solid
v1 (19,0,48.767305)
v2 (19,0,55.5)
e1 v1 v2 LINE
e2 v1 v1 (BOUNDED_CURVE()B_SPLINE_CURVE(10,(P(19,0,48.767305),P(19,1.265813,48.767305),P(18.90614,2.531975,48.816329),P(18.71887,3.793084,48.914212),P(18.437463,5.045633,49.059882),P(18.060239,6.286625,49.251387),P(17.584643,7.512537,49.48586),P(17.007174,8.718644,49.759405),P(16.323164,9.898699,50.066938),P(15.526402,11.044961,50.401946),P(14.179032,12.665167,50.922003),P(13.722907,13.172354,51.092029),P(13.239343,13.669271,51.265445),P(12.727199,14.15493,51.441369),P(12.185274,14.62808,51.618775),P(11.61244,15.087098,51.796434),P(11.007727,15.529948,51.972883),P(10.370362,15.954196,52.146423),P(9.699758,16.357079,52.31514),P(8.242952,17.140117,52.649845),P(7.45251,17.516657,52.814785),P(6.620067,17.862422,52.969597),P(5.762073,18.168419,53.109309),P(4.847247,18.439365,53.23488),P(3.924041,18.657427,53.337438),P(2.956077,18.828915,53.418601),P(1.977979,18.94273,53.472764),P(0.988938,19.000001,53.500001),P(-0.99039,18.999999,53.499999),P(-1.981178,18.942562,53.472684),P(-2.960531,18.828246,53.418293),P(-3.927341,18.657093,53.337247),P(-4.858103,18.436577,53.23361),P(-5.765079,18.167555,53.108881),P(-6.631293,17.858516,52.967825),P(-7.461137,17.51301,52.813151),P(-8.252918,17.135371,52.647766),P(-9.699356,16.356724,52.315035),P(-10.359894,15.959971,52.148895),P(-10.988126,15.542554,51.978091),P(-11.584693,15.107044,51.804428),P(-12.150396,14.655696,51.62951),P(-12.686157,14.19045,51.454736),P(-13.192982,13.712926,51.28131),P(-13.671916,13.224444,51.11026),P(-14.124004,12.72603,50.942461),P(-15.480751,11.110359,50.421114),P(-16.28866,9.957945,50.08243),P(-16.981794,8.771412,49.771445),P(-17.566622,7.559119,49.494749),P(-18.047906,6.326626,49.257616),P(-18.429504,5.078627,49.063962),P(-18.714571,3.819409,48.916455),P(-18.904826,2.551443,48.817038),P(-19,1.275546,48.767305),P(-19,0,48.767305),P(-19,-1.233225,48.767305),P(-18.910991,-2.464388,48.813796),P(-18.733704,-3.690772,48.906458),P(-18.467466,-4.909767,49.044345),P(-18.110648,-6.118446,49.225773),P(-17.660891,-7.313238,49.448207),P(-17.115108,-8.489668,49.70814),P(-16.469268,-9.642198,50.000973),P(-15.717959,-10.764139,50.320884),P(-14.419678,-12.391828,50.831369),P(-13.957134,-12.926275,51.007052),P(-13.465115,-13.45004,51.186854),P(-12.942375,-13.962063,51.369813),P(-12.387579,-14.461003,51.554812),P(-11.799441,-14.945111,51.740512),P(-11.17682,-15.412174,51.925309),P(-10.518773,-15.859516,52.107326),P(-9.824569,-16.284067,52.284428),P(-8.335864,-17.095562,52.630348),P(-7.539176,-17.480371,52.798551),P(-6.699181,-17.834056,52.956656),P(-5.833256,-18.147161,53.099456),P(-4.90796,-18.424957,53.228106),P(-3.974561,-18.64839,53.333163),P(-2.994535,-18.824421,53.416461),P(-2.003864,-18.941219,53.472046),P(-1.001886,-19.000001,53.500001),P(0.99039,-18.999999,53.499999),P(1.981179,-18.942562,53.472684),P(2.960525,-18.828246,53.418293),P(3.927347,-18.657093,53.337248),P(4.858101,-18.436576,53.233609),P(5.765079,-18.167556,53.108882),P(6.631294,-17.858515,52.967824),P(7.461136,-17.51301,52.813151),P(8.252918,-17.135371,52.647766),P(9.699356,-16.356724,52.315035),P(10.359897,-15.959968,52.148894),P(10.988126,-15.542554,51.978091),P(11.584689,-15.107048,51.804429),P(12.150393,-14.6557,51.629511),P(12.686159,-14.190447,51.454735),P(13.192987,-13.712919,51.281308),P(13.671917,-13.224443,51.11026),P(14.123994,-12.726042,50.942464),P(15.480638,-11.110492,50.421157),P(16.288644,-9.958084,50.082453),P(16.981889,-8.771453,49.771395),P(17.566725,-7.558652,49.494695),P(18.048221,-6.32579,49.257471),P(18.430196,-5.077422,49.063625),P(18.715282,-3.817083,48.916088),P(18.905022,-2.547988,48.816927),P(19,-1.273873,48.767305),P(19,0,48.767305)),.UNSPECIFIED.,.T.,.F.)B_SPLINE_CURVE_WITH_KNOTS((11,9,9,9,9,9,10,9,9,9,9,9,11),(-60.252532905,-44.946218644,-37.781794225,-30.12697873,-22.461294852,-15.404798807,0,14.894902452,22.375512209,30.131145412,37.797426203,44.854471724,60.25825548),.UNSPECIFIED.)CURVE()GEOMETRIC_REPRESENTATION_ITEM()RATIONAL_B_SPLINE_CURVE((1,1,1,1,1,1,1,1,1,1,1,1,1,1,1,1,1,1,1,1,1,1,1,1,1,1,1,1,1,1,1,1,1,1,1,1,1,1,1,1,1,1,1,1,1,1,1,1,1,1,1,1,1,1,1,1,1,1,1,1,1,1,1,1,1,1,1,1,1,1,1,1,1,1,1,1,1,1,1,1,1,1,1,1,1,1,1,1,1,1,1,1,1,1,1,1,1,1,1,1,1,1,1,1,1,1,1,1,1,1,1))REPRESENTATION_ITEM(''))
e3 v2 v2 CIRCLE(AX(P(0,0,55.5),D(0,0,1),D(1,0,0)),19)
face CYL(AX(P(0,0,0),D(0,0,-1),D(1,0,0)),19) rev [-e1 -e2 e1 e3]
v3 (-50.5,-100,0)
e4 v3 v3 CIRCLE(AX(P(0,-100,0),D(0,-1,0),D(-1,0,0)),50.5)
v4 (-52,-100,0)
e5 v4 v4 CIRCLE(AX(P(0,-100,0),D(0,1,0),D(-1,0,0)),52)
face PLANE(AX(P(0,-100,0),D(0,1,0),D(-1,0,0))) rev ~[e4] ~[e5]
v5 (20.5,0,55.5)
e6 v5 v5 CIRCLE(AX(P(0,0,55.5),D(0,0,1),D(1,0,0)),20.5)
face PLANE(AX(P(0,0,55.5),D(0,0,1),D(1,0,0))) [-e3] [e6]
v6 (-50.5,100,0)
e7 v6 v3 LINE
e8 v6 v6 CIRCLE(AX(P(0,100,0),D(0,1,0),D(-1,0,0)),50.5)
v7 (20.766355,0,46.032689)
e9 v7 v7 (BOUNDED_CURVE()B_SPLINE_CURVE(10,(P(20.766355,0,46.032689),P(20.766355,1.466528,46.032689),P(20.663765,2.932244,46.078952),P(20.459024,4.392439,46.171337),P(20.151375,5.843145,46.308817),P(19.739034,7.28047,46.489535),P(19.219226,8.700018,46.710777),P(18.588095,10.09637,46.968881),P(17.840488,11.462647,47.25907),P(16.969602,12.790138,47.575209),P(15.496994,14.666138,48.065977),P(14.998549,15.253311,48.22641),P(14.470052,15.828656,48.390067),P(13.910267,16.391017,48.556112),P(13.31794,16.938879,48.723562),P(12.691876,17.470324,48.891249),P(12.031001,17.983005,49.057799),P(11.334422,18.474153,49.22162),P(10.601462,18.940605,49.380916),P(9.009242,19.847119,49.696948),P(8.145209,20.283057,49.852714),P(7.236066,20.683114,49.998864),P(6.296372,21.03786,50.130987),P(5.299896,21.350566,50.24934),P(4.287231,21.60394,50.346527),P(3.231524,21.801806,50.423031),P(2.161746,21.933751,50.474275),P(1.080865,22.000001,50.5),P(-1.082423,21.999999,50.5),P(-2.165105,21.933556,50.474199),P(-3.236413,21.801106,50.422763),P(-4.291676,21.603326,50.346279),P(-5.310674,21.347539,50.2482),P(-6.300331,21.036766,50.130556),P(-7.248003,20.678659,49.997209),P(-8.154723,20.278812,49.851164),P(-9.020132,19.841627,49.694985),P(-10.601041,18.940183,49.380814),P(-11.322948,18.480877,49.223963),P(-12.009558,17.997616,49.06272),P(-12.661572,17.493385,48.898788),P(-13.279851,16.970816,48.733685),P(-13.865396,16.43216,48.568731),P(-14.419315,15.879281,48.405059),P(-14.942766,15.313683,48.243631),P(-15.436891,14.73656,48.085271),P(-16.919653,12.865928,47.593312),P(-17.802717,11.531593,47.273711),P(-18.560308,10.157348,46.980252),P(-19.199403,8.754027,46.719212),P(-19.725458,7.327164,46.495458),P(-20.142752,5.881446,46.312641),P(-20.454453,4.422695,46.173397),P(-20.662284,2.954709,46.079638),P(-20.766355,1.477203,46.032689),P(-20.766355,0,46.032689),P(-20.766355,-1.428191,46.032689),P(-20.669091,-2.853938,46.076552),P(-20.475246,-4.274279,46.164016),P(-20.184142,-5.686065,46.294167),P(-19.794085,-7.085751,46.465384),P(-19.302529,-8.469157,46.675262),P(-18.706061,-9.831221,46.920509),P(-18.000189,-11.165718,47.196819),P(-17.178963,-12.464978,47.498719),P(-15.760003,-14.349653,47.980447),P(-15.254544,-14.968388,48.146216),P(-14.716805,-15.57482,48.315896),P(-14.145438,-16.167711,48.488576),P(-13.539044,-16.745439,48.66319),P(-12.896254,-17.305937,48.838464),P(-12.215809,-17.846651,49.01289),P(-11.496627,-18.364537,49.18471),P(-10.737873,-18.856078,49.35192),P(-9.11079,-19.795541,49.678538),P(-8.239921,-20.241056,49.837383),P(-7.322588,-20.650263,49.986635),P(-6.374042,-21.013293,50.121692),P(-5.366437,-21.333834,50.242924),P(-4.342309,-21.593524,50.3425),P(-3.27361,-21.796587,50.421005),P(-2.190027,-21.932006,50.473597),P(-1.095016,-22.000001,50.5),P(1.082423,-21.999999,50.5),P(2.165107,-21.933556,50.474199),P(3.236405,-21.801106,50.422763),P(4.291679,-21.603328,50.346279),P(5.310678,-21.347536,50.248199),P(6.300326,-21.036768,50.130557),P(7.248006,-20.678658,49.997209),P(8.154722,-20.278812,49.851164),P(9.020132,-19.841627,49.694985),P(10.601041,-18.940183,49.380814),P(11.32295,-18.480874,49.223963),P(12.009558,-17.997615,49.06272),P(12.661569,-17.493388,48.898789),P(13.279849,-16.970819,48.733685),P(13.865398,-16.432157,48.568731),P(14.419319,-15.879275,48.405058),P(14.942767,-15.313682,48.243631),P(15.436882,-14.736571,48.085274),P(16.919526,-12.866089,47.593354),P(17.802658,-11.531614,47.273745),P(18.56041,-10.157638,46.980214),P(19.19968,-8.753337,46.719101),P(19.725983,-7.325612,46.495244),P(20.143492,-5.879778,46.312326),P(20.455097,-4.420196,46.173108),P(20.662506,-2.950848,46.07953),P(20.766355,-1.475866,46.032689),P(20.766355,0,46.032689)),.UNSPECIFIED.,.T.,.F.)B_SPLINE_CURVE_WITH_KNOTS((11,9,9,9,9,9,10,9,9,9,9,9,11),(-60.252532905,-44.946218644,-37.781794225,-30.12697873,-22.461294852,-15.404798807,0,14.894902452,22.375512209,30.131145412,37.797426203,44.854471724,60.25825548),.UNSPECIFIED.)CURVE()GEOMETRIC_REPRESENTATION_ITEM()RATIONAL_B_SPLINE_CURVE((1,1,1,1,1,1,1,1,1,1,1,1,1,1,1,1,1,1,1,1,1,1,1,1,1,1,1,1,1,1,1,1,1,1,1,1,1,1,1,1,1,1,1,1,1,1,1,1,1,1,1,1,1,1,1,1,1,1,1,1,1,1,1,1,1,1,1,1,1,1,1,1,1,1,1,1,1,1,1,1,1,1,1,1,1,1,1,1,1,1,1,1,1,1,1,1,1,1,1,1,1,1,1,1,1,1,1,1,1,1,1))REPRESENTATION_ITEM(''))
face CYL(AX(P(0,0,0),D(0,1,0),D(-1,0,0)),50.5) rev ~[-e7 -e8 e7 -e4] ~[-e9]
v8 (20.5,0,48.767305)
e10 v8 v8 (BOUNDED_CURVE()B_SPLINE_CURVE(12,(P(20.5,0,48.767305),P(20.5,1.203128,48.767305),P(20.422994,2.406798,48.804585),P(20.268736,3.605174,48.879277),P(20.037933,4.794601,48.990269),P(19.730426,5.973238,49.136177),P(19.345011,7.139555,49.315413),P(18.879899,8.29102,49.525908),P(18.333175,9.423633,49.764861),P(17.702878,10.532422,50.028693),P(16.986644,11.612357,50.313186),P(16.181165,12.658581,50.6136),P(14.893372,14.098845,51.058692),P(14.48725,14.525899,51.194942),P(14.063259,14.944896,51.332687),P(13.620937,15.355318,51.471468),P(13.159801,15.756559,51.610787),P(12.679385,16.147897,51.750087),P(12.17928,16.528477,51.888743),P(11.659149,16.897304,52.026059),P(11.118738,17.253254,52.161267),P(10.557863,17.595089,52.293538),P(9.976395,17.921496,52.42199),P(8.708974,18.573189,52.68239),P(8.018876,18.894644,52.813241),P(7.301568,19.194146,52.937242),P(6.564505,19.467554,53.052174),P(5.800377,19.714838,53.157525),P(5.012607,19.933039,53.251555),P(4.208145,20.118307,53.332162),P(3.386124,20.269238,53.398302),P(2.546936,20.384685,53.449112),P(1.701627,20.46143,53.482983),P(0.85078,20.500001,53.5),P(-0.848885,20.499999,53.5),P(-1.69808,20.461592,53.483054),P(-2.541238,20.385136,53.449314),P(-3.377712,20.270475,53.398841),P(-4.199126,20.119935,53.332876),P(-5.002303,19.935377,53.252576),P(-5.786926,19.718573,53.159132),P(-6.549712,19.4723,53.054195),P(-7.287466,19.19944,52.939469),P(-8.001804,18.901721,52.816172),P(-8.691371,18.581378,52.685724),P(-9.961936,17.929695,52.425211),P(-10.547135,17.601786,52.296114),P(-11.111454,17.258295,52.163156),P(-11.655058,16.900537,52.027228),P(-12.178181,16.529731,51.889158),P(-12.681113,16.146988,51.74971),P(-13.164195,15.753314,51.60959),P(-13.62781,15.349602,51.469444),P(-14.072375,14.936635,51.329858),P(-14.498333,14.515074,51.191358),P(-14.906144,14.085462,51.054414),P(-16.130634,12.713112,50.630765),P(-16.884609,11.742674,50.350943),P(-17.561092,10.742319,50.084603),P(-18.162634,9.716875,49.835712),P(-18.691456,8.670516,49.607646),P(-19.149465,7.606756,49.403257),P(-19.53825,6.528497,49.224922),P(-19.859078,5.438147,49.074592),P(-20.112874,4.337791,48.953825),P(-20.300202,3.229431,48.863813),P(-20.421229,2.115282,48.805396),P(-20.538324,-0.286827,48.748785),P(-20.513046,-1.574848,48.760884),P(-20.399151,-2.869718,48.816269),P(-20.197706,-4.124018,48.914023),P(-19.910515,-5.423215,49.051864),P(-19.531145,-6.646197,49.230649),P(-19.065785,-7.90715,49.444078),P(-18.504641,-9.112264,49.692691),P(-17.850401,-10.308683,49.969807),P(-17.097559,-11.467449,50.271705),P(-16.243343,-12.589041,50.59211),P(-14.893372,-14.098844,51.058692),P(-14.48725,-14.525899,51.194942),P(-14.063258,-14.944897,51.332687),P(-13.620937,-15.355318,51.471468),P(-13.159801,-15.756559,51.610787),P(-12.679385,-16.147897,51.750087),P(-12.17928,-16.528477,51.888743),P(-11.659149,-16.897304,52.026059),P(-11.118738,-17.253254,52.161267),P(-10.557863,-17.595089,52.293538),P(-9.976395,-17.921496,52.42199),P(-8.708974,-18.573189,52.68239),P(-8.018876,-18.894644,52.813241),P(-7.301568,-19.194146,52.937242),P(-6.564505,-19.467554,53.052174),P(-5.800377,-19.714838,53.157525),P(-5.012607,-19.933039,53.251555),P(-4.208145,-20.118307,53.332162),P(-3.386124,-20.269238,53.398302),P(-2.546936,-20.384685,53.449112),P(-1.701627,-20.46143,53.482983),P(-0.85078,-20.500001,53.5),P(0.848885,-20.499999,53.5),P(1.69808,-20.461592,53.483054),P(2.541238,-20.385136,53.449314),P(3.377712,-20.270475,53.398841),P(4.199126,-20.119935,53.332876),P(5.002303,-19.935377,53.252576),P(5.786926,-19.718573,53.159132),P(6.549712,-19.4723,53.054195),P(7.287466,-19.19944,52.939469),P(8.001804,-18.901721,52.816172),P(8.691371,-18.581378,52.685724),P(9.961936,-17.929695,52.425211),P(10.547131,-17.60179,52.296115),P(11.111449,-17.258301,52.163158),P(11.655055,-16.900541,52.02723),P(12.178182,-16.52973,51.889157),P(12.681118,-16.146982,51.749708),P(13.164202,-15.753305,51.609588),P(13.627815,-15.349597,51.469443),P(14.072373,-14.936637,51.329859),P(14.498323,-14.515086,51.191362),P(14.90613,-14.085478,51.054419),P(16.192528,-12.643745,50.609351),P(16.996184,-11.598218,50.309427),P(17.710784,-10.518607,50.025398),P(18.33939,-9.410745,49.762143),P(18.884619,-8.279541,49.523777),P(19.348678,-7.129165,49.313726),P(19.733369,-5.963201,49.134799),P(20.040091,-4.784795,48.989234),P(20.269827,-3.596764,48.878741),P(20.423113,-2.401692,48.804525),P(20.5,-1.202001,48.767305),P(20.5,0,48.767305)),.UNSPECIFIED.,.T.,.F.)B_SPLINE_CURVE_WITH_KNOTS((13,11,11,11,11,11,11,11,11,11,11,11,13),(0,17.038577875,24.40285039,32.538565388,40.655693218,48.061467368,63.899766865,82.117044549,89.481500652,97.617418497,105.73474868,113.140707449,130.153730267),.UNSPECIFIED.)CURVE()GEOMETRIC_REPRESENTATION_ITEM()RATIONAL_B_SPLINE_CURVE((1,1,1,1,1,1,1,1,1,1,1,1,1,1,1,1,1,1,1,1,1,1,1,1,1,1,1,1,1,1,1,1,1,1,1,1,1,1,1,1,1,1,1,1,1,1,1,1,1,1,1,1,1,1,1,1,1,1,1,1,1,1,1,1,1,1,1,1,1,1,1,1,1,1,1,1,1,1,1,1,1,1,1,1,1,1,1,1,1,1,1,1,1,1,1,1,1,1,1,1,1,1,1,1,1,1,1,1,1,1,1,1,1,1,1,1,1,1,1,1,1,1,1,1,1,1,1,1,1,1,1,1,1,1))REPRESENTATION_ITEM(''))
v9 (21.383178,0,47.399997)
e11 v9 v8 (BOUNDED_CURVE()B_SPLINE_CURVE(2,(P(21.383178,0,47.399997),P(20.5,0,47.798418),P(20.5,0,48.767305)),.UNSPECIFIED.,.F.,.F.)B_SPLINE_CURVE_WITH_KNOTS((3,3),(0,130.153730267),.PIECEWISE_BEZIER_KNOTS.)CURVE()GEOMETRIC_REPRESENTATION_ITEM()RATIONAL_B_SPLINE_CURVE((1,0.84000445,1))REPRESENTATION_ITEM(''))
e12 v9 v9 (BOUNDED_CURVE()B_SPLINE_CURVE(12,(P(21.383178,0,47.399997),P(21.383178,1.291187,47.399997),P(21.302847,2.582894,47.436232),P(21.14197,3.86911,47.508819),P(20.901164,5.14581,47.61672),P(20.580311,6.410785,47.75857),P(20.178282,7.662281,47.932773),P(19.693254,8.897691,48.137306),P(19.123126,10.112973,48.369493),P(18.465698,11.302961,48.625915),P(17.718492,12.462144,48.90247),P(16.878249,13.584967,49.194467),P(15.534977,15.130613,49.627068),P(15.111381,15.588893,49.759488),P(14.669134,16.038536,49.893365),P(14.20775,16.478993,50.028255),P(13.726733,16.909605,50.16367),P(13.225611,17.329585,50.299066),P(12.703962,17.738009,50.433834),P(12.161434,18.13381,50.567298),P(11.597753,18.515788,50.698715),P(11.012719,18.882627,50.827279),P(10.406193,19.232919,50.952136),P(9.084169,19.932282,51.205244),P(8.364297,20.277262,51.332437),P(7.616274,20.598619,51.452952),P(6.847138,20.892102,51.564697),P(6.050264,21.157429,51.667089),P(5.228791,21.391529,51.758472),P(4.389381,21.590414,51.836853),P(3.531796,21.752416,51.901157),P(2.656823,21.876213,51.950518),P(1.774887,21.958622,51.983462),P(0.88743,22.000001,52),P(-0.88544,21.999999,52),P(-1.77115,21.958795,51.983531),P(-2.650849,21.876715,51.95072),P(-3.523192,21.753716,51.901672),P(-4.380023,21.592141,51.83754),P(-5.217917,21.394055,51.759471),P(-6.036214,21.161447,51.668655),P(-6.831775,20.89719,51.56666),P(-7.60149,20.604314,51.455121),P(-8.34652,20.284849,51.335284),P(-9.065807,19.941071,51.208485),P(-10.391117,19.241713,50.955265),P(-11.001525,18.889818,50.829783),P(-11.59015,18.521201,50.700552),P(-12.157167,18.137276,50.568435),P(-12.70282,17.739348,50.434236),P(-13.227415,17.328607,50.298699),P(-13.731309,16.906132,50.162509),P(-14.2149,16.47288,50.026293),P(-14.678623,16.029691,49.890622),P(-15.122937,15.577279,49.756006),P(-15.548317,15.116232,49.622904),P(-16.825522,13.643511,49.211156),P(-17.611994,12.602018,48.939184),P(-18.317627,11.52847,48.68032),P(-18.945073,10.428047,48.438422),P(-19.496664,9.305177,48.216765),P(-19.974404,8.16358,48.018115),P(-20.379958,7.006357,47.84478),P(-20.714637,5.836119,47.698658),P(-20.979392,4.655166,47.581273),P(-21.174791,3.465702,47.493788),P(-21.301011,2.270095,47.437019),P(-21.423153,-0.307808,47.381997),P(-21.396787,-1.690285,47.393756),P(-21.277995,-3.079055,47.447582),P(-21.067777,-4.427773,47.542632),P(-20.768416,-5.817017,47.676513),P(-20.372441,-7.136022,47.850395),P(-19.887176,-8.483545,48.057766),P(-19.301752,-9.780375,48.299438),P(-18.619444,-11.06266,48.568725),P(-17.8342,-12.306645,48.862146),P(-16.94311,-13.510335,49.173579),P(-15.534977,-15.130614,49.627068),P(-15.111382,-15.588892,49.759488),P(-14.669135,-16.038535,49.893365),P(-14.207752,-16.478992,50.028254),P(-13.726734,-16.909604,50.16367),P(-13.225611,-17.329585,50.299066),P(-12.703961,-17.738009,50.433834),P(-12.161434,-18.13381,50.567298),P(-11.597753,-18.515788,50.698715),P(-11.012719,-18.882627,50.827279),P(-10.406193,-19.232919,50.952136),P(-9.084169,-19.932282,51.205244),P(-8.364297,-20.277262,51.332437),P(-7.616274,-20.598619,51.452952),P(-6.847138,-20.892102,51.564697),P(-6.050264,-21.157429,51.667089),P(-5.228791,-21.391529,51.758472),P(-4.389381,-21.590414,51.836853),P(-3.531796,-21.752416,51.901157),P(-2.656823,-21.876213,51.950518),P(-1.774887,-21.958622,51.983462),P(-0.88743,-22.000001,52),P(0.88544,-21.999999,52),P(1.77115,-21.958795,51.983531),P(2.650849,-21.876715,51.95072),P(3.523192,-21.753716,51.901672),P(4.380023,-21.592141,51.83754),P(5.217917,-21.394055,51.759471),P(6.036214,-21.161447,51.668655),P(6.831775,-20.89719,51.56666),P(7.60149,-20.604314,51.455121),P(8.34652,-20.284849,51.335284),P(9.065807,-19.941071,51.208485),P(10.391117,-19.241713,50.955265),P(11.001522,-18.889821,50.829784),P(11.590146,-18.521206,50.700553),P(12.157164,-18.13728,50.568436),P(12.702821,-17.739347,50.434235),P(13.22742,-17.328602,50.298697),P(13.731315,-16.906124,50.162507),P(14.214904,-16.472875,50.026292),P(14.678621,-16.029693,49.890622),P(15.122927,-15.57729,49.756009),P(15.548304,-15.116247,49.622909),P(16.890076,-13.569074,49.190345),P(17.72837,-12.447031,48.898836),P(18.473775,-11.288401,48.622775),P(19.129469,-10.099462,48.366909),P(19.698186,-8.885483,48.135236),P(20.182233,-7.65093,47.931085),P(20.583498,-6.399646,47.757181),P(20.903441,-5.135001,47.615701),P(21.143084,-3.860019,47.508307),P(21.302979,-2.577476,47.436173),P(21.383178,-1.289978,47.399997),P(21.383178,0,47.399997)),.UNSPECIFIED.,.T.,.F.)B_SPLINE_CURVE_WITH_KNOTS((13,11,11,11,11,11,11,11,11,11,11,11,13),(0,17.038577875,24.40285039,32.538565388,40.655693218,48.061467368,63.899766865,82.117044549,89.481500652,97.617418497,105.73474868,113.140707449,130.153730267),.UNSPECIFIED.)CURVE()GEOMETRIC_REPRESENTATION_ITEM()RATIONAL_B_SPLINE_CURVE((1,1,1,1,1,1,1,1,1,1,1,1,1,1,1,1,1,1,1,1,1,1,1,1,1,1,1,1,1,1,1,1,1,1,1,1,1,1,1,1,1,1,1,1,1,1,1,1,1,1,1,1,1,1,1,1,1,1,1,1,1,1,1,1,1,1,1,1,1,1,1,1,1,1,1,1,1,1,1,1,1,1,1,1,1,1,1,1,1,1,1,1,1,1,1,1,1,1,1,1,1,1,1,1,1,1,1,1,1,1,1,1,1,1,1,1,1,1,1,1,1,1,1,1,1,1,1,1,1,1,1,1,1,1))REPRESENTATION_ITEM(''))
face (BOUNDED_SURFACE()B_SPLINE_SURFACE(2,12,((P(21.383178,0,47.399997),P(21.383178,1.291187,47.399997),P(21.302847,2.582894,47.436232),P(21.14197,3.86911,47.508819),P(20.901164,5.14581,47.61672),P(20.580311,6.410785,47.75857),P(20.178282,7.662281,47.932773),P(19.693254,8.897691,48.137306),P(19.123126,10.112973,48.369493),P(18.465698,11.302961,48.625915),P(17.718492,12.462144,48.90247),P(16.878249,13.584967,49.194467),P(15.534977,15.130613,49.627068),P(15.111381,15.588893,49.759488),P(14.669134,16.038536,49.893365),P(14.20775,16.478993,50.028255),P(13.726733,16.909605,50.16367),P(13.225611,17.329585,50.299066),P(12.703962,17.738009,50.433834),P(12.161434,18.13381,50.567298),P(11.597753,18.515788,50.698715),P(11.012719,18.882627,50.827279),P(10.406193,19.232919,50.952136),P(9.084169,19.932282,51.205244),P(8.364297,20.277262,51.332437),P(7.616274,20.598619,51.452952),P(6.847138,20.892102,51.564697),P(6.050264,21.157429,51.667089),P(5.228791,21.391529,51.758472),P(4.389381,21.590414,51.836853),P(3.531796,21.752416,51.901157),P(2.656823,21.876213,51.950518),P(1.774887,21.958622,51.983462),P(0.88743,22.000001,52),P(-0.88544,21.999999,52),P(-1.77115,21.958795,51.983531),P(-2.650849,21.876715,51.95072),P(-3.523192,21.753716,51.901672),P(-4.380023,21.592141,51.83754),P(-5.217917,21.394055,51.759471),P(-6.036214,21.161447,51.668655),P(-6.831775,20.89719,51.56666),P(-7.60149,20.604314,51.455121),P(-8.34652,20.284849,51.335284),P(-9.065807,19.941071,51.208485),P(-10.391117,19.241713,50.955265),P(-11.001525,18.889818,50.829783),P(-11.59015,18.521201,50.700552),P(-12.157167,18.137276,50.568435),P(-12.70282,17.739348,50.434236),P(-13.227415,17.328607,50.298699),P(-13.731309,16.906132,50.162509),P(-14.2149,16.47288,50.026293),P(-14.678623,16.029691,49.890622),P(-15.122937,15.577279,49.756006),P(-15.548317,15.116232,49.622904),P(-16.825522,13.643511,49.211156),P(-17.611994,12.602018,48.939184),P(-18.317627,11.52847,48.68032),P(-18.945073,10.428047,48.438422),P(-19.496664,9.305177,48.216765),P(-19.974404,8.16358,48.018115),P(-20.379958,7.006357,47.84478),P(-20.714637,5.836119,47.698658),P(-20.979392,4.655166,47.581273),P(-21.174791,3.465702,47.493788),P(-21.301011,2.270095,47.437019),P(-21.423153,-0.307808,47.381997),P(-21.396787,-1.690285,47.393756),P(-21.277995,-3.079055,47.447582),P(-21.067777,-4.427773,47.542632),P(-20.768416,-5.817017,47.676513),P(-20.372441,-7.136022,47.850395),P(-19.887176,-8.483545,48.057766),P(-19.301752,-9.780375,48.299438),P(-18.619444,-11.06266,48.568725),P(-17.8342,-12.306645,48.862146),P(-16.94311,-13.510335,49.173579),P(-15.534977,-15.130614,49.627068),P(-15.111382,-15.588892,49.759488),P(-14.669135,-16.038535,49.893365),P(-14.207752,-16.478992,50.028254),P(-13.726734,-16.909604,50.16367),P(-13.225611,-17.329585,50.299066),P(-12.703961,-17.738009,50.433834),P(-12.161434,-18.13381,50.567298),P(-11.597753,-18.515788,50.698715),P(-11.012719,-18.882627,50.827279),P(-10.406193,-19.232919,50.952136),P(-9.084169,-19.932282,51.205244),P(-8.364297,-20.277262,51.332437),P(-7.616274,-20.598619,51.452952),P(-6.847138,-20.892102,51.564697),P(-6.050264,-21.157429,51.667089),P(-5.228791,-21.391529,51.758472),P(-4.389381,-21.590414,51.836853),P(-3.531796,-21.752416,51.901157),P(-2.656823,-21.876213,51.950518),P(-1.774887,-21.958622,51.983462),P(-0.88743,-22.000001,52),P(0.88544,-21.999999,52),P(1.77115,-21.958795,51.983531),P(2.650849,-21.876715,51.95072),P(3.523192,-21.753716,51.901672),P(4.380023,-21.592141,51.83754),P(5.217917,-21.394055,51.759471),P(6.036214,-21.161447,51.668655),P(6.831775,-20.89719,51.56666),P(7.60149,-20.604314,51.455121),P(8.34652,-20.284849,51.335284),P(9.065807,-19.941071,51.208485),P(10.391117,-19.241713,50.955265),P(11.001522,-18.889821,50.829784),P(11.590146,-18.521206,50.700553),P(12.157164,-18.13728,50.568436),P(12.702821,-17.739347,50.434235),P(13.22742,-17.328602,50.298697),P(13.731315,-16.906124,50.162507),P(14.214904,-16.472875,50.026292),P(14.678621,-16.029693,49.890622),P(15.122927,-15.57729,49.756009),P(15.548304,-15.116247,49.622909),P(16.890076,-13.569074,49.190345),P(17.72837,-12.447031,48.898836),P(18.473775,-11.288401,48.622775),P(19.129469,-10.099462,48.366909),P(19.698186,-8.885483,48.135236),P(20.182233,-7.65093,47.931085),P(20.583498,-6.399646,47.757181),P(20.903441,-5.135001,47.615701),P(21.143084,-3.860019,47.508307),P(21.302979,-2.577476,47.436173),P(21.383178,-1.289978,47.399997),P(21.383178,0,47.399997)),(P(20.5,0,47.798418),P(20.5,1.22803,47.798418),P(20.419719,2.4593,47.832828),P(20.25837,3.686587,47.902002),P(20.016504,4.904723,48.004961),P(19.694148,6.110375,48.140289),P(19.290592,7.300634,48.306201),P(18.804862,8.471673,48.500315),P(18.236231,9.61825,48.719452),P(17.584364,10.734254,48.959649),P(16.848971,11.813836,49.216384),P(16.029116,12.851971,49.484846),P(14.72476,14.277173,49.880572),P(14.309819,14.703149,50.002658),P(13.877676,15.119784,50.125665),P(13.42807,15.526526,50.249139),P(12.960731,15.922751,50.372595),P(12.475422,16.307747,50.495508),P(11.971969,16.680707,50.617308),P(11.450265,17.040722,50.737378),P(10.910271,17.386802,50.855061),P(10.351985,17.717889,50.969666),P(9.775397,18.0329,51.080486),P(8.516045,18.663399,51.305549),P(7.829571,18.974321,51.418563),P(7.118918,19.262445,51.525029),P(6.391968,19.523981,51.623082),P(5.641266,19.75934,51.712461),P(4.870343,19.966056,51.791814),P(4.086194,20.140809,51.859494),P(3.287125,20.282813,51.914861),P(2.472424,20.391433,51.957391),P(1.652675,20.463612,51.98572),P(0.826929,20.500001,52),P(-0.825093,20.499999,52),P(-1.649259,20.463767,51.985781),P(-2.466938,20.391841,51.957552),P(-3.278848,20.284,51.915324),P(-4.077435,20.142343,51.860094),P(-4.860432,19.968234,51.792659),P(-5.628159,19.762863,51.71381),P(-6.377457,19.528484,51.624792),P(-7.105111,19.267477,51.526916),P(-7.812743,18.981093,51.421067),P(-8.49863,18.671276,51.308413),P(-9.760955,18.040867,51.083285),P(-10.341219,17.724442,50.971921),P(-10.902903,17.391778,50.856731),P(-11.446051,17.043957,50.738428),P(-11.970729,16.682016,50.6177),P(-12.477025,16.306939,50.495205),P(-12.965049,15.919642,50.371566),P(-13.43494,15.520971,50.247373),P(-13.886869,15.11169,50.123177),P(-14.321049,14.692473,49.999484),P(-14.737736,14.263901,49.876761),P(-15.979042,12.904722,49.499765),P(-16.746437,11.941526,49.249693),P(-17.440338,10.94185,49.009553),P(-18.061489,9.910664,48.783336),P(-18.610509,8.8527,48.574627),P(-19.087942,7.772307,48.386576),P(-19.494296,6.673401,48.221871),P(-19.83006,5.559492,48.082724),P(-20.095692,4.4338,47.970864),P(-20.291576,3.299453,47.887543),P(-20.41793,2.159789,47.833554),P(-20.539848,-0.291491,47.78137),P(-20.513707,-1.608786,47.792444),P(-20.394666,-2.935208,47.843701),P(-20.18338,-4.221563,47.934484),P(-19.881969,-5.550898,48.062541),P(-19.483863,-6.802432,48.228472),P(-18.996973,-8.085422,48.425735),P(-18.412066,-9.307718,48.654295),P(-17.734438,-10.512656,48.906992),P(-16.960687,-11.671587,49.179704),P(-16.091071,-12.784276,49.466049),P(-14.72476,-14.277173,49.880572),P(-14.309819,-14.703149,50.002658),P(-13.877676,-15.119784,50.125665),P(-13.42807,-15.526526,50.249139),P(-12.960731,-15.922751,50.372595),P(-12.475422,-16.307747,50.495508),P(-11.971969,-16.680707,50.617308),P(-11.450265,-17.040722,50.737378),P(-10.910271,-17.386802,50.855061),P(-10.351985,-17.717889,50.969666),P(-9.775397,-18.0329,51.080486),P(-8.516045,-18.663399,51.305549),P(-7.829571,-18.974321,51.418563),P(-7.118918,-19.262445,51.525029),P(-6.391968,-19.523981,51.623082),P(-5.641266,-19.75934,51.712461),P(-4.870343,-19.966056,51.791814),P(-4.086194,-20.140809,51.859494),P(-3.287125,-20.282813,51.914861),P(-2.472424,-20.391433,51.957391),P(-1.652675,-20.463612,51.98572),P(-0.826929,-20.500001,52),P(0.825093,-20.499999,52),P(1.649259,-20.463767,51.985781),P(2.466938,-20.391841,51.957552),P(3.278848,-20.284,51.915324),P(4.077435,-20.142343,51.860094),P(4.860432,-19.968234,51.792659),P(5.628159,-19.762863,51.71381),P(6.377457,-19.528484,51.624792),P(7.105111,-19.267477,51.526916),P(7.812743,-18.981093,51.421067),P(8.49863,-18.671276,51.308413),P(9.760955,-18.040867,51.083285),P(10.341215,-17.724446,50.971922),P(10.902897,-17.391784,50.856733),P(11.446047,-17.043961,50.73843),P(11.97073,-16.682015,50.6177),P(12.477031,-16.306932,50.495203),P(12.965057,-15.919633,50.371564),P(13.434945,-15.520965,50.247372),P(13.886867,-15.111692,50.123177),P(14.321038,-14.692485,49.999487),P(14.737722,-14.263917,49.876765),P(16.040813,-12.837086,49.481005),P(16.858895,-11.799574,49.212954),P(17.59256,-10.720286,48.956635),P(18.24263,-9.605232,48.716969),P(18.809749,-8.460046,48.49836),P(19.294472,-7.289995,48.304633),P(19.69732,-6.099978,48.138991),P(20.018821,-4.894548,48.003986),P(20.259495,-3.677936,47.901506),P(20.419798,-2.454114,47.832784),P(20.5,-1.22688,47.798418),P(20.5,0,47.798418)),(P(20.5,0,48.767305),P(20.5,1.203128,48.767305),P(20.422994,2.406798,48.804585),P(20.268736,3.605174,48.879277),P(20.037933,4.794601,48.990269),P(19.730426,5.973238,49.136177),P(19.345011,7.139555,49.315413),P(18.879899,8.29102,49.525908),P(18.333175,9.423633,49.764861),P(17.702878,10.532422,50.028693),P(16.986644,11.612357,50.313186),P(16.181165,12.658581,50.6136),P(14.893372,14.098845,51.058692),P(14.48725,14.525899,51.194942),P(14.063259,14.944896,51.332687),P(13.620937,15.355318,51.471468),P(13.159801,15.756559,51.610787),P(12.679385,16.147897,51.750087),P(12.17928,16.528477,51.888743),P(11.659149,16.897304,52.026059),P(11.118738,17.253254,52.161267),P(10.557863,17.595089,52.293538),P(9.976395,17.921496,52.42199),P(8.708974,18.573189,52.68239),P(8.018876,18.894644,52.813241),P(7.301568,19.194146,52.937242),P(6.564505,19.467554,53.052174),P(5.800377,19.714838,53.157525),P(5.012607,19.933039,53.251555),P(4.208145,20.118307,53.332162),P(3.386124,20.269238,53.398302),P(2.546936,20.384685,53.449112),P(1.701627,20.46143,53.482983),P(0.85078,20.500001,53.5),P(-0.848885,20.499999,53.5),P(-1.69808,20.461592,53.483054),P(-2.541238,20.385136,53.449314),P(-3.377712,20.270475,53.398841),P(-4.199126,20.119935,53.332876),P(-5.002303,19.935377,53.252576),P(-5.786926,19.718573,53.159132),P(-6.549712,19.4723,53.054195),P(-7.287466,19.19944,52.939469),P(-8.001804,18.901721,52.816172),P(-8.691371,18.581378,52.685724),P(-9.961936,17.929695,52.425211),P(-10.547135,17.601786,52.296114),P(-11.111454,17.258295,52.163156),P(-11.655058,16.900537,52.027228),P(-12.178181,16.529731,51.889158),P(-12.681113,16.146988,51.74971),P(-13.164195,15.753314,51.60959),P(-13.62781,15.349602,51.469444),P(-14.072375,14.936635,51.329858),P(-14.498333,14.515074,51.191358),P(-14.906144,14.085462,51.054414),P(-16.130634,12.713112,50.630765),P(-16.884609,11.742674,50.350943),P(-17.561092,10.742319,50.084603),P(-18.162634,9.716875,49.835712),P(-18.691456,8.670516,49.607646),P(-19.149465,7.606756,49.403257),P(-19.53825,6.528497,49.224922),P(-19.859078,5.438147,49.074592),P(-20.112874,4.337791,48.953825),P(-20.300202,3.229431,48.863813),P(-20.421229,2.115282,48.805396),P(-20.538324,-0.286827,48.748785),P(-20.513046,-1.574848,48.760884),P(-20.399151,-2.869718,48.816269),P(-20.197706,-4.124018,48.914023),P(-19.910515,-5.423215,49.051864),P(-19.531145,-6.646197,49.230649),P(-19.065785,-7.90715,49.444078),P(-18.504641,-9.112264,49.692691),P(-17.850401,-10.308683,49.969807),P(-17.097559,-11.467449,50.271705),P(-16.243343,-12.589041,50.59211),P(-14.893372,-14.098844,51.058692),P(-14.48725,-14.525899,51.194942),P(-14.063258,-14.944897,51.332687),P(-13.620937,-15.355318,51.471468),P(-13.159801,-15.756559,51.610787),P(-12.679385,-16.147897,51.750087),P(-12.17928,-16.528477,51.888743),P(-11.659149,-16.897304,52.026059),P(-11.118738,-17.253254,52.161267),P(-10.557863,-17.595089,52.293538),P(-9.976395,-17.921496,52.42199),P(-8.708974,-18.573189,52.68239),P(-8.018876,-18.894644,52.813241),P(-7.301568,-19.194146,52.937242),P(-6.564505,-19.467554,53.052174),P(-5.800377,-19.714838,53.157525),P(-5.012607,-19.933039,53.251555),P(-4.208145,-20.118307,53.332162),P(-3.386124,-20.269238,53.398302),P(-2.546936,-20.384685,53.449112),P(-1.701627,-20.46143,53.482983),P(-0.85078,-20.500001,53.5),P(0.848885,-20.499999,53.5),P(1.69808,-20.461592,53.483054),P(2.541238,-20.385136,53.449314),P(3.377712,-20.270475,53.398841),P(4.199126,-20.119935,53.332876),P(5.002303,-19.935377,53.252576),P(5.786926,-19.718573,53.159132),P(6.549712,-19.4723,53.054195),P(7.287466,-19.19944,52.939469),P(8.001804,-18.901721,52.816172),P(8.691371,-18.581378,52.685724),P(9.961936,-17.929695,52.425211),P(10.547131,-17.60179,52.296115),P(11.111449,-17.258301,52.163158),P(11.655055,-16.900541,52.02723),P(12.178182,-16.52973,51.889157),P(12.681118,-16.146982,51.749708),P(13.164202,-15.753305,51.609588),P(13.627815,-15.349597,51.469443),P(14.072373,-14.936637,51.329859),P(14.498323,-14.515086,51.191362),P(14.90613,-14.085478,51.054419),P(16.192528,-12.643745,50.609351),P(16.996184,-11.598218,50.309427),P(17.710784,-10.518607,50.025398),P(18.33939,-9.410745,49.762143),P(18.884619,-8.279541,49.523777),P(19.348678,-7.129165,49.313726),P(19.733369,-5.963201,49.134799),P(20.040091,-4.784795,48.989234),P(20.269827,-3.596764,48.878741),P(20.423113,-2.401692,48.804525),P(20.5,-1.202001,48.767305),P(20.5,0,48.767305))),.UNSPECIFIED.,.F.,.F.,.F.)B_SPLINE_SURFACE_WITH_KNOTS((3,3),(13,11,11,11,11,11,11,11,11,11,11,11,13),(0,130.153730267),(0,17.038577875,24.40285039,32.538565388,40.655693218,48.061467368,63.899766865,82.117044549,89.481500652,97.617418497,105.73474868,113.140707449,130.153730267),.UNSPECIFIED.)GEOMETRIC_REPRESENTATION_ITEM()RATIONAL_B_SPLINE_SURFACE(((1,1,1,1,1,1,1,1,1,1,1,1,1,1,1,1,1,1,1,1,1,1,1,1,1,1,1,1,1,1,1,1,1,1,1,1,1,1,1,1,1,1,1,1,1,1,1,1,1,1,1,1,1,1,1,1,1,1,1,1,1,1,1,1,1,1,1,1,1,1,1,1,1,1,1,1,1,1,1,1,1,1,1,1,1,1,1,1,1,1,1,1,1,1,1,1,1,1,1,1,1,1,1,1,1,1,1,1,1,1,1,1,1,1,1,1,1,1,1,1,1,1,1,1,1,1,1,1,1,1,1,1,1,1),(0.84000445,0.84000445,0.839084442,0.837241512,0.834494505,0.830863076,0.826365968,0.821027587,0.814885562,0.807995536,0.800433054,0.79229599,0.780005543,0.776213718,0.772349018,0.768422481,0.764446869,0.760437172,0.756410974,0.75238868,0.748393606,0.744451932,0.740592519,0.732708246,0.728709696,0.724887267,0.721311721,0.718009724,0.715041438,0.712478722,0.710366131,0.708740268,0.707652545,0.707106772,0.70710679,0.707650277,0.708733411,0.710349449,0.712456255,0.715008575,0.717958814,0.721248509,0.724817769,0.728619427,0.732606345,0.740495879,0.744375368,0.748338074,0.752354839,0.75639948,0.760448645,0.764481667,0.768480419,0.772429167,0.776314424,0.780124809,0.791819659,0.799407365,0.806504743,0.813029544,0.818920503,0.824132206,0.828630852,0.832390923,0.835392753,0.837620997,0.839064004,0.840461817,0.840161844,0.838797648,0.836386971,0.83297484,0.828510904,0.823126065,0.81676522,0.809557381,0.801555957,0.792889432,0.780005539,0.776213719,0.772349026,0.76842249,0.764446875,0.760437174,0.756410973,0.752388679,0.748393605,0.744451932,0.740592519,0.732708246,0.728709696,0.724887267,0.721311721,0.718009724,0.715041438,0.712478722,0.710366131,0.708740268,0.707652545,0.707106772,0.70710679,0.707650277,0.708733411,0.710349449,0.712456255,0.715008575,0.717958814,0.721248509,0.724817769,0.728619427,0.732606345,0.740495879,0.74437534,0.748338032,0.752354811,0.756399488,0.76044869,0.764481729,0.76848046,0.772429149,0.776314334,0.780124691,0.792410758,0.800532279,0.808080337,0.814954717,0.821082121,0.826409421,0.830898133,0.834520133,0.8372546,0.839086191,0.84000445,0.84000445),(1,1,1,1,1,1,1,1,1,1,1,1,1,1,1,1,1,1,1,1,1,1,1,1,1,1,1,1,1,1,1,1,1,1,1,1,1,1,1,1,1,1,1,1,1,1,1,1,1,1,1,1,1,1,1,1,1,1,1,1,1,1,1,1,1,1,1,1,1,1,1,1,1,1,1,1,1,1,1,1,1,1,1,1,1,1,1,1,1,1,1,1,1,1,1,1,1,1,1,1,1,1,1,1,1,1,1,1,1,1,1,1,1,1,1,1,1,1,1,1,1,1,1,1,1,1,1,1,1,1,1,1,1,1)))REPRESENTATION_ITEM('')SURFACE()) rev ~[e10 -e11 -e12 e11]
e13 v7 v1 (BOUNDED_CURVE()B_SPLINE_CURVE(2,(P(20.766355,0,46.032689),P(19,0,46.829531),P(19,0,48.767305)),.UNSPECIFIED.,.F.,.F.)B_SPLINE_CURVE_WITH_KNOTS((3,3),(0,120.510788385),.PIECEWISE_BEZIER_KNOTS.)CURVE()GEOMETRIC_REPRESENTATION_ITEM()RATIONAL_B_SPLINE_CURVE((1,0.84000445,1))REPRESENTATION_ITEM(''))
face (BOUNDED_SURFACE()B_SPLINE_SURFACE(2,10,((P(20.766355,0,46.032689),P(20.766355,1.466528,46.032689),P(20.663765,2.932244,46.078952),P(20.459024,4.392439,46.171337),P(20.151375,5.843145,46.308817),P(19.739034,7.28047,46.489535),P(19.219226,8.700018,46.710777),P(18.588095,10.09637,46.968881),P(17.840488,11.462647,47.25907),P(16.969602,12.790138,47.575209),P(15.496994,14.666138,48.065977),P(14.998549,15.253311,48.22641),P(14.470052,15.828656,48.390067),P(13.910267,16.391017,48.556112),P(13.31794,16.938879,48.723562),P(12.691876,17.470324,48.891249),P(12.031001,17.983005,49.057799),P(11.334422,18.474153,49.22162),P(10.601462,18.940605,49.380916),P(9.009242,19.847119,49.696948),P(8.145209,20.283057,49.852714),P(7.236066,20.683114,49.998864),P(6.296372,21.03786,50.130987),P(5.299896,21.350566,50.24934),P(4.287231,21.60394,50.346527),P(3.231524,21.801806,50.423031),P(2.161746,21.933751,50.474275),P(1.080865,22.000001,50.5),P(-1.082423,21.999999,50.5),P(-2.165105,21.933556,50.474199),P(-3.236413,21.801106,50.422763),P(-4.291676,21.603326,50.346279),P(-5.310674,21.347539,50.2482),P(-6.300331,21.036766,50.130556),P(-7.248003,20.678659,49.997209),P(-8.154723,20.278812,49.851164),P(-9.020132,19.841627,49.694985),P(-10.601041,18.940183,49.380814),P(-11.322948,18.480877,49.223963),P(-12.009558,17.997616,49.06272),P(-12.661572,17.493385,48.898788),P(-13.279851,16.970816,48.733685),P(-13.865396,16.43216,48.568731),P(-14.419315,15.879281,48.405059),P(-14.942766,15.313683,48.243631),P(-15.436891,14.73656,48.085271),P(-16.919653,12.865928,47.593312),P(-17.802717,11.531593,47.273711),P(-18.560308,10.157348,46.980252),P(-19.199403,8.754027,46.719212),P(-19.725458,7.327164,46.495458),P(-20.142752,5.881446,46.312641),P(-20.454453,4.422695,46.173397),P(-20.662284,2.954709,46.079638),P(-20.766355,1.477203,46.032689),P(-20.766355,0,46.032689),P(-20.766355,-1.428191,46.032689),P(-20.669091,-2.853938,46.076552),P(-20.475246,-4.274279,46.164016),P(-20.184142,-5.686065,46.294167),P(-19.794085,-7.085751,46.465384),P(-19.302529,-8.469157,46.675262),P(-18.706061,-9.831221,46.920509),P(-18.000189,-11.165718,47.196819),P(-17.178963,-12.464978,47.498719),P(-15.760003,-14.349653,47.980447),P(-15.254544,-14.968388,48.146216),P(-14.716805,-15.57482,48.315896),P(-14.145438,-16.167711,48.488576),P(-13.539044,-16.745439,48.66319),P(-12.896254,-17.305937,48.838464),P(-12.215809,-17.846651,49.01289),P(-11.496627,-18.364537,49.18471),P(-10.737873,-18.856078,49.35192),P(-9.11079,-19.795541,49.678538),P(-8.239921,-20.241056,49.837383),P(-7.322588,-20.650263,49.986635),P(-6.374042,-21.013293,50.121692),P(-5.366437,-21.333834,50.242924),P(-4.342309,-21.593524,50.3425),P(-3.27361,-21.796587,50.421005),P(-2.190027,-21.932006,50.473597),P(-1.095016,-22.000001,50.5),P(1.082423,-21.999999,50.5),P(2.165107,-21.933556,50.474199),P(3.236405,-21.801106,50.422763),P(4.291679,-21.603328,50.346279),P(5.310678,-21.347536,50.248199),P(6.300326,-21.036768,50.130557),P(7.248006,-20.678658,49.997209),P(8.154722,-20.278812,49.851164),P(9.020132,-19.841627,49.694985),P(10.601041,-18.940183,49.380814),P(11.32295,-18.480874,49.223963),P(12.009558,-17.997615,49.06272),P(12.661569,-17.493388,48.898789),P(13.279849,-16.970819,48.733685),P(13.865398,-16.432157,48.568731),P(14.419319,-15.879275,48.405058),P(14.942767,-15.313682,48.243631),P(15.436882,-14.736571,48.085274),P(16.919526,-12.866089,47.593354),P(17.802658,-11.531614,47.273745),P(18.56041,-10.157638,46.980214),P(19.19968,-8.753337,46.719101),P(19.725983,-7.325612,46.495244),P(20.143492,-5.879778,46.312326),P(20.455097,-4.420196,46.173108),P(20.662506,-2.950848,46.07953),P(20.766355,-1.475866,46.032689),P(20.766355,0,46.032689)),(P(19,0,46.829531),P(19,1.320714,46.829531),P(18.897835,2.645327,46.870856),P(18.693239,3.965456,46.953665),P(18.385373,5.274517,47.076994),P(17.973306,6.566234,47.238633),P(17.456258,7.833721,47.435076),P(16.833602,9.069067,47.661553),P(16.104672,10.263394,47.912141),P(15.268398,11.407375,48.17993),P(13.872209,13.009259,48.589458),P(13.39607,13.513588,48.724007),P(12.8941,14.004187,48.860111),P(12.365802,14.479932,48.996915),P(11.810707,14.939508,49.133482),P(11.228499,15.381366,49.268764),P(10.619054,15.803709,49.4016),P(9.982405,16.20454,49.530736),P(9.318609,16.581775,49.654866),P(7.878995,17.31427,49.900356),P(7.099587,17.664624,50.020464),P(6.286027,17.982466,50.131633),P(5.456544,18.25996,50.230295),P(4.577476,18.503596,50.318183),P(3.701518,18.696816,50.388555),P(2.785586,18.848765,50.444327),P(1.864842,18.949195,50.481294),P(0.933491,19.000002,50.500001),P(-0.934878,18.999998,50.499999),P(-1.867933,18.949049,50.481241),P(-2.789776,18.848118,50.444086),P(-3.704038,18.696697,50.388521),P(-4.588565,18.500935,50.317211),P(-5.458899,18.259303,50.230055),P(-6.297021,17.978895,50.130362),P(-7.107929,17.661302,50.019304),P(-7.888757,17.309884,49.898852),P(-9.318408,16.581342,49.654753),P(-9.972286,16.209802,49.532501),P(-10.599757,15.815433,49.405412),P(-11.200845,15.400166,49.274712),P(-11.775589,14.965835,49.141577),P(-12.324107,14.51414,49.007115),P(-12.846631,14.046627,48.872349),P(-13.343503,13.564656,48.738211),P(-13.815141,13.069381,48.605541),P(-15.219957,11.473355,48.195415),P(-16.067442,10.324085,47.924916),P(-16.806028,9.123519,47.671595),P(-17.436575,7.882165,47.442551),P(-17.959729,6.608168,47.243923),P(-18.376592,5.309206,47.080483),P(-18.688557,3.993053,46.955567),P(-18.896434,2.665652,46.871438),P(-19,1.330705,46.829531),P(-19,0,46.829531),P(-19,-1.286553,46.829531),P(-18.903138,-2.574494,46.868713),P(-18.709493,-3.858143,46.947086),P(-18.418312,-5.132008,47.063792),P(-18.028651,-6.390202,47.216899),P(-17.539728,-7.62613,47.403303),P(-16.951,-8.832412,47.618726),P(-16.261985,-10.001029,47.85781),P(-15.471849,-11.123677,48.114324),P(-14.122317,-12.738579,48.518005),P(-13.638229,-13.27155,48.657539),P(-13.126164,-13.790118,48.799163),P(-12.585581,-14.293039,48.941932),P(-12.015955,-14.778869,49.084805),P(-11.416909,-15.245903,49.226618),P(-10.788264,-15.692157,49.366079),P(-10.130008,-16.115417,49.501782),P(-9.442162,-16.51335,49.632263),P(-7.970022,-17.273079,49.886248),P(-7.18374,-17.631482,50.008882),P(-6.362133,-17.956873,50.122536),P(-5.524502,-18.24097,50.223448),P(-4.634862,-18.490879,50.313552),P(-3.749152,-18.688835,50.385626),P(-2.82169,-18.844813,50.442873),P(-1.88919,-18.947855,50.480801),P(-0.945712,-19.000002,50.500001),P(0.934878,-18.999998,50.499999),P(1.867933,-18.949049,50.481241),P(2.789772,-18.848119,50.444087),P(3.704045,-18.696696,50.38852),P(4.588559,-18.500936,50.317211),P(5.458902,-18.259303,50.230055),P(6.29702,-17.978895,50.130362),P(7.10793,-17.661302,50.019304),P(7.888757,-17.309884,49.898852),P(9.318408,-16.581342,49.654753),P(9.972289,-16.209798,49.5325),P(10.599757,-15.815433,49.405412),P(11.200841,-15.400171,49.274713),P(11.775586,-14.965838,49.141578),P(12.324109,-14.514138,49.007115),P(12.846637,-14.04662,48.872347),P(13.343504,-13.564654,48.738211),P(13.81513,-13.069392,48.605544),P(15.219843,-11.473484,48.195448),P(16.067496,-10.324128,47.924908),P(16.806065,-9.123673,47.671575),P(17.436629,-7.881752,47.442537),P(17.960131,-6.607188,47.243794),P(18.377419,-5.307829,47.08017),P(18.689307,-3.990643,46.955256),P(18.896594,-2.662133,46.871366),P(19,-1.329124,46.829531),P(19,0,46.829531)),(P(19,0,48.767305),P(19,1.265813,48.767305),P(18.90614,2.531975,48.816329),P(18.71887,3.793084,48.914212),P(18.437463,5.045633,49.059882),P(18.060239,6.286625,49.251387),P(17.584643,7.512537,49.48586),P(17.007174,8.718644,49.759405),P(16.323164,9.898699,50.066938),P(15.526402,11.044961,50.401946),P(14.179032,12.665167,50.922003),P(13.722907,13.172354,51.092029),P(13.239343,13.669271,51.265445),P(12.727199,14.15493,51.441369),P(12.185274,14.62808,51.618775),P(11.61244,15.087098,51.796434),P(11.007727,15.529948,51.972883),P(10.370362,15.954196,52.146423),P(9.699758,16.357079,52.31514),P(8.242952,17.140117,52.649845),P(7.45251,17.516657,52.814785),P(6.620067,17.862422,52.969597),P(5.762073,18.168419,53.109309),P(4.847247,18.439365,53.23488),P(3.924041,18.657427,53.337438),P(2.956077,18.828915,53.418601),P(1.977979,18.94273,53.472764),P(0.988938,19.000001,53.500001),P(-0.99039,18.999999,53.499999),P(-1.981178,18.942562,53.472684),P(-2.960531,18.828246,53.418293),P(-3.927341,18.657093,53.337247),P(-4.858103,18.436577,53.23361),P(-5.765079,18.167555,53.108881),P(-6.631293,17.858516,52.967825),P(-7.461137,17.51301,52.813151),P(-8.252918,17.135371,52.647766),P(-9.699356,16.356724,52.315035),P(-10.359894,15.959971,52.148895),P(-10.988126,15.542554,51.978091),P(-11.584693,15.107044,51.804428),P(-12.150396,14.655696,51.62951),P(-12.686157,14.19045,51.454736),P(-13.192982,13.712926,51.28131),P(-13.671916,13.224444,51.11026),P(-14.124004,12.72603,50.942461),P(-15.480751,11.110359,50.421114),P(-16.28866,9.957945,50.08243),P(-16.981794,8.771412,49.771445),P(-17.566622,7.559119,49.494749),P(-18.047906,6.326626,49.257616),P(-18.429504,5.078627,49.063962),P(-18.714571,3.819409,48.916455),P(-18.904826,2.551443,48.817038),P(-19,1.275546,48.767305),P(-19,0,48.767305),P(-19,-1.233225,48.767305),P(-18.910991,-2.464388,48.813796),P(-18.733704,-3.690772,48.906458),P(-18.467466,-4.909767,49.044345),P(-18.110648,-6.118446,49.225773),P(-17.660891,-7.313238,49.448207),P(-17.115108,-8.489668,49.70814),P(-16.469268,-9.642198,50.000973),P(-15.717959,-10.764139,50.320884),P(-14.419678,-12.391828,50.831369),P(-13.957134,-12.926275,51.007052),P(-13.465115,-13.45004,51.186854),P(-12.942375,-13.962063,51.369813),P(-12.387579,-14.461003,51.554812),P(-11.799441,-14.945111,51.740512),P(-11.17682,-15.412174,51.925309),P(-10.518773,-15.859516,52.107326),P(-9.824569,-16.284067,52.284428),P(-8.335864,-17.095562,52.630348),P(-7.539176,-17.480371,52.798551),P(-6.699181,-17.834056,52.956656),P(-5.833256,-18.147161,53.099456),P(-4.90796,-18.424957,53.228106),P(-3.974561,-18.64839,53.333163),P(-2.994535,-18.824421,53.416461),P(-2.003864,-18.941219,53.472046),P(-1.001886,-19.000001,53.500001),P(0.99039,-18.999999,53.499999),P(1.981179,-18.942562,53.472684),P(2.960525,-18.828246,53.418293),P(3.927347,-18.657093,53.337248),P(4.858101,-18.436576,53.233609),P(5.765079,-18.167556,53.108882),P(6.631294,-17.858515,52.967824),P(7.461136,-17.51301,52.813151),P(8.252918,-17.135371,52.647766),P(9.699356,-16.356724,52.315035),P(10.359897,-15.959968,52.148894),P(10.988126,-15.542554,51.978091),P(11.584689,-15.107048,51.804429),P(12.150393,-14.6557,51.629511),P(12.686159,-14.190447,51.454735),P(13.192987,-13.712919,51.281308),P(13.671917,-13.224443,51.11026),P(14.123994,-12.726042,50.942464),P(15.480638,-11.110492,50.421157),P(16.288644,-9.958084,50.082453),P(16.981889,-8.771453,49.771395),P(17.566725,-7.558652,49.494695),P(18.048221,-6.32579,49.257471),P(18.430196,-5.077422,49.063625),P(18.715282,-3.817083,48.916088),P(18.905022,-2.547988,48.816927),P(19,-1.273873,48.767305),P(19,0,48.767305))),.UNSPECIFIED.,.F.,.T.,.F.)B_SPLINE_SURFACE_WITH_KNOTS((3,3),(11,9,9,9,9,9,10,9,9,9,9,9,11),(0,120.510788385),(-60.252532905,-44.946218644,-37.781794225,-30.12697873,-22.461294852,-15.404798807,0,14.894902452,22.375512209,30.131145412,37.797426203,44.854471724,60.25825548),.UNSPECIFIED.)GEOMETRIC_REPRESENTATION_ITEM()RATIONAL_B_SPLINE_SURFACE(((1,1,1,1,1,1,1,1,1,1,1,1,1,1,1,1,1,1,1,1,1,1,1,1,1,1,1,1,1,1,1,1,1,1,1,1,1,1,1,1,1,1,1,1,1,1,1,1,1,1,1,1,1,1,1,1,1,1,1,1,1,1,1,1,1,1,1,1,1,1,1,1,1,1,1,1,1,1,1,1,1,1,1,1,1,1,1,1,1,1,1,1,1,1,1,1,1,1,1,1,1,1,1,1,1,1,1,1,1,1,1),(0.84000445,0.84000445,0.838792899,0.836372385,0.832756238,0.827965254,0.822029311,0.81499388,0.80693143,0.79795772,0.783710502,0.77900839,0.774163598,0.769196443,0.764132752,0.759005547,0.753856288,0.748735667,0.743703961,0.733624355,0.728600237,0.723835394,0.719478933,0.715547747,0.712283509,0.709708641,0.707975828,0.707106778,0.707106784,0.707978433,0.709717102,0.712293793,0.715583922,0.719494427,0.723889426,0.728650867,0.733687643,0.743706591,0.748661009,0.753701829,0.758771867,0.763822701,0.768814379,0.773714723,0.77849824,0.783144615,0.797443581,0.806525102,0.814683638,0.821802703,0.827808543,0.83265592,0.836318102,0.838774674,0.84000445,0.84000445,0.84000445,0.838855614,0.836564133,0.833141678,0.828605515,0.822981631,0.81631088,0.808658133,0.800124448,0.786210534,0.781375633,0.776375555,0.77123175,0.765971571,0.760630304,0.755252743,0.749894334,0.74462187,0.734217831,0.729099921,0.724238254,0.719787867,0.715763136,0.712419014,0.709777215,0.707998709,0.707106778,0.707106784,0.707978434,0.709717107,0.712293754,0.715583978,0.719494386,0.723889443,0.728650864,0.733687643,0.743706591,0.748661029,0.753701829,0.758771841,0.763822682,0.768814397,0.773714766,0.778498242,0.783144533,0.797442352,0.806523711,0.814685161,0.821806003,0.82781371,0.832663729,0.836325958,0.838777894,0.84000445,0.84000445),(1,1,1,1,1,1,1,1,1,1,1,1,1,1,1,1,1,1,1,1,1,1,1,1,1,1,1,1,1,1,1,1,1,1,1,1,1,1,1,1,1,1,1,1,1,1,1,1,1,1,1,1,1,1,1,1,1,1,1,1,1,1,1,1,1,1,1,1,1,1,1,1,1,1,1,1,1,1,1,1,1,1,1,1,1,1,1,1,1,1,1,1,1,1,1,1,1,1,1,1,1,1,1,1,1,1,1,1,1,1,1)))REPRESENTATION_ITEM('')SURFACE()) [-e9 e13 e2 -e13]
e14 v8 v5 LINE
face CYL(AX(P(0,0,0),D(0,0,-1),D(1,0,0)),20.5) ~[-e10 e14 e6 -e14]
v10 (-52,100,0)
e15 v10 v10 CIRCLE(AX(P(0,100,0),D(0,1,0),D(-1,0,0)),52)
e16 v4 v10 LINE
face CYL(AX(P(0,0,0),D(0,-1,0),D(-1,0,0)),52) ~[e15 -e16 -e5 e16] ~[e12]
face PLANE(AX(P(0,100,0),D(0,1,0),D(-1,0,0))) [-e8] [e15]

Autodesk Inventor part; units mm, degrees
ref_plane "YZ Plane" through (0, 0, 0) normal (1, 0, 0) x (0, 1, 0)
ref_plane "XZ Plane" through (0, 0, 0) normal (0, 1, 0) x (-1, 0, 0)
ref_plane "XY Plane" through (0, 0, 0) normal (0, 0, 1) x (1, 0, 0)
sketch "Szkic8" plane through (0, 0, 0) normal (0, 1, 0) x (-1, 0, 0)
  circle A0 centre (0, 0) radius 52
  circle A1 centre (0, 0) radius 50.5
  dimension "d53" = 104
  dimension "d54" = 1.5
extrude "Wyciągnięcie proste2" add sketch "Szkic8" along normal mid plane 200
sketch "Szkic13" plane through (0, 0, 0) normal (0, 0, 1) x (1, 0, 0)
  circle A0 centre (0, 0) radius 20.5
  circle A1 centre (0, 0) radius 19
  dimension "d67" = 41
  dimension "d68" = 1.5
extrude "Wyciągnięcie proste6" add sketch "Szkic13" along normal blind 55.5
sketch "Szkic14" plane through (0, 0, 55.5) normal (0, 0, 1) x (1, 0, 0)
  circle A0 centre (0, 0) radius 19 projected
extrude "Wyciągnięcie proste7" cut sketch "Szkic14" against normal blind 55.5
sketch "Szkic15" plane through (0, -100, 0) normal (0, -1, 0) x (1, 0, 0)
  circle A0 centre (0, 0) radius 50.5 projected
extrude "Wyciągnięcie proste8" cut sketch "Szkic15" against normal blind 200
fillet "Zaokrąglenie3" radius 1.5 2 edges at (-0.0006, 20.5, 52) (-0.0019, -20.5, 52)
fillet "Zaokrąglenie4" radius 3 2 edges at (-0.0005, -19, 50.5) (-0.0009, 19, 50.5)
equation "\"d53\" = OD"
equation "\"d54\" = THK"
equation "\"d55\" = L1"
equation "\"d67\" = OD2"
equation "\"d68\" = THK"
equation "\"d69\" = L2"
equation "\"d71\" = L2"
equation "\"d73\" = L1"
equation "\"d75\" = THK"
equation "\"d76\" = 2 * THK"
equation "\"SzerokośćGięciaPodcięcia\" = Grubość"
equation "\"RozmiarPodcięciaNarożnika\" = 4 * Grubość"
equation "\"PromieńPrzejścia\" = PromieńGięcia"
equation "\"Rozmiar_promienia_Jacobiego\" = PromieńGięcia"
equation "\"Wielk_odstępu\" = Grubość"
equation "\"d2\" = PromieńGięcia"
equation "\"d23\" = PromieńGięcia"
equation "\"OD\" = 104"
equation "\"THK\" = 1.5"
equation "\"L1\" = 200"
equation "\"L2\" = 55.5"
equation "\"OD2\" = 41"
equation "\"Grubość\" = 1.5"
equation "\"PromieńGięcia\" = 3"
properties part number "Trójnik red. krótki  Ø104 41 104 s=1,5 L=200" material "304"
